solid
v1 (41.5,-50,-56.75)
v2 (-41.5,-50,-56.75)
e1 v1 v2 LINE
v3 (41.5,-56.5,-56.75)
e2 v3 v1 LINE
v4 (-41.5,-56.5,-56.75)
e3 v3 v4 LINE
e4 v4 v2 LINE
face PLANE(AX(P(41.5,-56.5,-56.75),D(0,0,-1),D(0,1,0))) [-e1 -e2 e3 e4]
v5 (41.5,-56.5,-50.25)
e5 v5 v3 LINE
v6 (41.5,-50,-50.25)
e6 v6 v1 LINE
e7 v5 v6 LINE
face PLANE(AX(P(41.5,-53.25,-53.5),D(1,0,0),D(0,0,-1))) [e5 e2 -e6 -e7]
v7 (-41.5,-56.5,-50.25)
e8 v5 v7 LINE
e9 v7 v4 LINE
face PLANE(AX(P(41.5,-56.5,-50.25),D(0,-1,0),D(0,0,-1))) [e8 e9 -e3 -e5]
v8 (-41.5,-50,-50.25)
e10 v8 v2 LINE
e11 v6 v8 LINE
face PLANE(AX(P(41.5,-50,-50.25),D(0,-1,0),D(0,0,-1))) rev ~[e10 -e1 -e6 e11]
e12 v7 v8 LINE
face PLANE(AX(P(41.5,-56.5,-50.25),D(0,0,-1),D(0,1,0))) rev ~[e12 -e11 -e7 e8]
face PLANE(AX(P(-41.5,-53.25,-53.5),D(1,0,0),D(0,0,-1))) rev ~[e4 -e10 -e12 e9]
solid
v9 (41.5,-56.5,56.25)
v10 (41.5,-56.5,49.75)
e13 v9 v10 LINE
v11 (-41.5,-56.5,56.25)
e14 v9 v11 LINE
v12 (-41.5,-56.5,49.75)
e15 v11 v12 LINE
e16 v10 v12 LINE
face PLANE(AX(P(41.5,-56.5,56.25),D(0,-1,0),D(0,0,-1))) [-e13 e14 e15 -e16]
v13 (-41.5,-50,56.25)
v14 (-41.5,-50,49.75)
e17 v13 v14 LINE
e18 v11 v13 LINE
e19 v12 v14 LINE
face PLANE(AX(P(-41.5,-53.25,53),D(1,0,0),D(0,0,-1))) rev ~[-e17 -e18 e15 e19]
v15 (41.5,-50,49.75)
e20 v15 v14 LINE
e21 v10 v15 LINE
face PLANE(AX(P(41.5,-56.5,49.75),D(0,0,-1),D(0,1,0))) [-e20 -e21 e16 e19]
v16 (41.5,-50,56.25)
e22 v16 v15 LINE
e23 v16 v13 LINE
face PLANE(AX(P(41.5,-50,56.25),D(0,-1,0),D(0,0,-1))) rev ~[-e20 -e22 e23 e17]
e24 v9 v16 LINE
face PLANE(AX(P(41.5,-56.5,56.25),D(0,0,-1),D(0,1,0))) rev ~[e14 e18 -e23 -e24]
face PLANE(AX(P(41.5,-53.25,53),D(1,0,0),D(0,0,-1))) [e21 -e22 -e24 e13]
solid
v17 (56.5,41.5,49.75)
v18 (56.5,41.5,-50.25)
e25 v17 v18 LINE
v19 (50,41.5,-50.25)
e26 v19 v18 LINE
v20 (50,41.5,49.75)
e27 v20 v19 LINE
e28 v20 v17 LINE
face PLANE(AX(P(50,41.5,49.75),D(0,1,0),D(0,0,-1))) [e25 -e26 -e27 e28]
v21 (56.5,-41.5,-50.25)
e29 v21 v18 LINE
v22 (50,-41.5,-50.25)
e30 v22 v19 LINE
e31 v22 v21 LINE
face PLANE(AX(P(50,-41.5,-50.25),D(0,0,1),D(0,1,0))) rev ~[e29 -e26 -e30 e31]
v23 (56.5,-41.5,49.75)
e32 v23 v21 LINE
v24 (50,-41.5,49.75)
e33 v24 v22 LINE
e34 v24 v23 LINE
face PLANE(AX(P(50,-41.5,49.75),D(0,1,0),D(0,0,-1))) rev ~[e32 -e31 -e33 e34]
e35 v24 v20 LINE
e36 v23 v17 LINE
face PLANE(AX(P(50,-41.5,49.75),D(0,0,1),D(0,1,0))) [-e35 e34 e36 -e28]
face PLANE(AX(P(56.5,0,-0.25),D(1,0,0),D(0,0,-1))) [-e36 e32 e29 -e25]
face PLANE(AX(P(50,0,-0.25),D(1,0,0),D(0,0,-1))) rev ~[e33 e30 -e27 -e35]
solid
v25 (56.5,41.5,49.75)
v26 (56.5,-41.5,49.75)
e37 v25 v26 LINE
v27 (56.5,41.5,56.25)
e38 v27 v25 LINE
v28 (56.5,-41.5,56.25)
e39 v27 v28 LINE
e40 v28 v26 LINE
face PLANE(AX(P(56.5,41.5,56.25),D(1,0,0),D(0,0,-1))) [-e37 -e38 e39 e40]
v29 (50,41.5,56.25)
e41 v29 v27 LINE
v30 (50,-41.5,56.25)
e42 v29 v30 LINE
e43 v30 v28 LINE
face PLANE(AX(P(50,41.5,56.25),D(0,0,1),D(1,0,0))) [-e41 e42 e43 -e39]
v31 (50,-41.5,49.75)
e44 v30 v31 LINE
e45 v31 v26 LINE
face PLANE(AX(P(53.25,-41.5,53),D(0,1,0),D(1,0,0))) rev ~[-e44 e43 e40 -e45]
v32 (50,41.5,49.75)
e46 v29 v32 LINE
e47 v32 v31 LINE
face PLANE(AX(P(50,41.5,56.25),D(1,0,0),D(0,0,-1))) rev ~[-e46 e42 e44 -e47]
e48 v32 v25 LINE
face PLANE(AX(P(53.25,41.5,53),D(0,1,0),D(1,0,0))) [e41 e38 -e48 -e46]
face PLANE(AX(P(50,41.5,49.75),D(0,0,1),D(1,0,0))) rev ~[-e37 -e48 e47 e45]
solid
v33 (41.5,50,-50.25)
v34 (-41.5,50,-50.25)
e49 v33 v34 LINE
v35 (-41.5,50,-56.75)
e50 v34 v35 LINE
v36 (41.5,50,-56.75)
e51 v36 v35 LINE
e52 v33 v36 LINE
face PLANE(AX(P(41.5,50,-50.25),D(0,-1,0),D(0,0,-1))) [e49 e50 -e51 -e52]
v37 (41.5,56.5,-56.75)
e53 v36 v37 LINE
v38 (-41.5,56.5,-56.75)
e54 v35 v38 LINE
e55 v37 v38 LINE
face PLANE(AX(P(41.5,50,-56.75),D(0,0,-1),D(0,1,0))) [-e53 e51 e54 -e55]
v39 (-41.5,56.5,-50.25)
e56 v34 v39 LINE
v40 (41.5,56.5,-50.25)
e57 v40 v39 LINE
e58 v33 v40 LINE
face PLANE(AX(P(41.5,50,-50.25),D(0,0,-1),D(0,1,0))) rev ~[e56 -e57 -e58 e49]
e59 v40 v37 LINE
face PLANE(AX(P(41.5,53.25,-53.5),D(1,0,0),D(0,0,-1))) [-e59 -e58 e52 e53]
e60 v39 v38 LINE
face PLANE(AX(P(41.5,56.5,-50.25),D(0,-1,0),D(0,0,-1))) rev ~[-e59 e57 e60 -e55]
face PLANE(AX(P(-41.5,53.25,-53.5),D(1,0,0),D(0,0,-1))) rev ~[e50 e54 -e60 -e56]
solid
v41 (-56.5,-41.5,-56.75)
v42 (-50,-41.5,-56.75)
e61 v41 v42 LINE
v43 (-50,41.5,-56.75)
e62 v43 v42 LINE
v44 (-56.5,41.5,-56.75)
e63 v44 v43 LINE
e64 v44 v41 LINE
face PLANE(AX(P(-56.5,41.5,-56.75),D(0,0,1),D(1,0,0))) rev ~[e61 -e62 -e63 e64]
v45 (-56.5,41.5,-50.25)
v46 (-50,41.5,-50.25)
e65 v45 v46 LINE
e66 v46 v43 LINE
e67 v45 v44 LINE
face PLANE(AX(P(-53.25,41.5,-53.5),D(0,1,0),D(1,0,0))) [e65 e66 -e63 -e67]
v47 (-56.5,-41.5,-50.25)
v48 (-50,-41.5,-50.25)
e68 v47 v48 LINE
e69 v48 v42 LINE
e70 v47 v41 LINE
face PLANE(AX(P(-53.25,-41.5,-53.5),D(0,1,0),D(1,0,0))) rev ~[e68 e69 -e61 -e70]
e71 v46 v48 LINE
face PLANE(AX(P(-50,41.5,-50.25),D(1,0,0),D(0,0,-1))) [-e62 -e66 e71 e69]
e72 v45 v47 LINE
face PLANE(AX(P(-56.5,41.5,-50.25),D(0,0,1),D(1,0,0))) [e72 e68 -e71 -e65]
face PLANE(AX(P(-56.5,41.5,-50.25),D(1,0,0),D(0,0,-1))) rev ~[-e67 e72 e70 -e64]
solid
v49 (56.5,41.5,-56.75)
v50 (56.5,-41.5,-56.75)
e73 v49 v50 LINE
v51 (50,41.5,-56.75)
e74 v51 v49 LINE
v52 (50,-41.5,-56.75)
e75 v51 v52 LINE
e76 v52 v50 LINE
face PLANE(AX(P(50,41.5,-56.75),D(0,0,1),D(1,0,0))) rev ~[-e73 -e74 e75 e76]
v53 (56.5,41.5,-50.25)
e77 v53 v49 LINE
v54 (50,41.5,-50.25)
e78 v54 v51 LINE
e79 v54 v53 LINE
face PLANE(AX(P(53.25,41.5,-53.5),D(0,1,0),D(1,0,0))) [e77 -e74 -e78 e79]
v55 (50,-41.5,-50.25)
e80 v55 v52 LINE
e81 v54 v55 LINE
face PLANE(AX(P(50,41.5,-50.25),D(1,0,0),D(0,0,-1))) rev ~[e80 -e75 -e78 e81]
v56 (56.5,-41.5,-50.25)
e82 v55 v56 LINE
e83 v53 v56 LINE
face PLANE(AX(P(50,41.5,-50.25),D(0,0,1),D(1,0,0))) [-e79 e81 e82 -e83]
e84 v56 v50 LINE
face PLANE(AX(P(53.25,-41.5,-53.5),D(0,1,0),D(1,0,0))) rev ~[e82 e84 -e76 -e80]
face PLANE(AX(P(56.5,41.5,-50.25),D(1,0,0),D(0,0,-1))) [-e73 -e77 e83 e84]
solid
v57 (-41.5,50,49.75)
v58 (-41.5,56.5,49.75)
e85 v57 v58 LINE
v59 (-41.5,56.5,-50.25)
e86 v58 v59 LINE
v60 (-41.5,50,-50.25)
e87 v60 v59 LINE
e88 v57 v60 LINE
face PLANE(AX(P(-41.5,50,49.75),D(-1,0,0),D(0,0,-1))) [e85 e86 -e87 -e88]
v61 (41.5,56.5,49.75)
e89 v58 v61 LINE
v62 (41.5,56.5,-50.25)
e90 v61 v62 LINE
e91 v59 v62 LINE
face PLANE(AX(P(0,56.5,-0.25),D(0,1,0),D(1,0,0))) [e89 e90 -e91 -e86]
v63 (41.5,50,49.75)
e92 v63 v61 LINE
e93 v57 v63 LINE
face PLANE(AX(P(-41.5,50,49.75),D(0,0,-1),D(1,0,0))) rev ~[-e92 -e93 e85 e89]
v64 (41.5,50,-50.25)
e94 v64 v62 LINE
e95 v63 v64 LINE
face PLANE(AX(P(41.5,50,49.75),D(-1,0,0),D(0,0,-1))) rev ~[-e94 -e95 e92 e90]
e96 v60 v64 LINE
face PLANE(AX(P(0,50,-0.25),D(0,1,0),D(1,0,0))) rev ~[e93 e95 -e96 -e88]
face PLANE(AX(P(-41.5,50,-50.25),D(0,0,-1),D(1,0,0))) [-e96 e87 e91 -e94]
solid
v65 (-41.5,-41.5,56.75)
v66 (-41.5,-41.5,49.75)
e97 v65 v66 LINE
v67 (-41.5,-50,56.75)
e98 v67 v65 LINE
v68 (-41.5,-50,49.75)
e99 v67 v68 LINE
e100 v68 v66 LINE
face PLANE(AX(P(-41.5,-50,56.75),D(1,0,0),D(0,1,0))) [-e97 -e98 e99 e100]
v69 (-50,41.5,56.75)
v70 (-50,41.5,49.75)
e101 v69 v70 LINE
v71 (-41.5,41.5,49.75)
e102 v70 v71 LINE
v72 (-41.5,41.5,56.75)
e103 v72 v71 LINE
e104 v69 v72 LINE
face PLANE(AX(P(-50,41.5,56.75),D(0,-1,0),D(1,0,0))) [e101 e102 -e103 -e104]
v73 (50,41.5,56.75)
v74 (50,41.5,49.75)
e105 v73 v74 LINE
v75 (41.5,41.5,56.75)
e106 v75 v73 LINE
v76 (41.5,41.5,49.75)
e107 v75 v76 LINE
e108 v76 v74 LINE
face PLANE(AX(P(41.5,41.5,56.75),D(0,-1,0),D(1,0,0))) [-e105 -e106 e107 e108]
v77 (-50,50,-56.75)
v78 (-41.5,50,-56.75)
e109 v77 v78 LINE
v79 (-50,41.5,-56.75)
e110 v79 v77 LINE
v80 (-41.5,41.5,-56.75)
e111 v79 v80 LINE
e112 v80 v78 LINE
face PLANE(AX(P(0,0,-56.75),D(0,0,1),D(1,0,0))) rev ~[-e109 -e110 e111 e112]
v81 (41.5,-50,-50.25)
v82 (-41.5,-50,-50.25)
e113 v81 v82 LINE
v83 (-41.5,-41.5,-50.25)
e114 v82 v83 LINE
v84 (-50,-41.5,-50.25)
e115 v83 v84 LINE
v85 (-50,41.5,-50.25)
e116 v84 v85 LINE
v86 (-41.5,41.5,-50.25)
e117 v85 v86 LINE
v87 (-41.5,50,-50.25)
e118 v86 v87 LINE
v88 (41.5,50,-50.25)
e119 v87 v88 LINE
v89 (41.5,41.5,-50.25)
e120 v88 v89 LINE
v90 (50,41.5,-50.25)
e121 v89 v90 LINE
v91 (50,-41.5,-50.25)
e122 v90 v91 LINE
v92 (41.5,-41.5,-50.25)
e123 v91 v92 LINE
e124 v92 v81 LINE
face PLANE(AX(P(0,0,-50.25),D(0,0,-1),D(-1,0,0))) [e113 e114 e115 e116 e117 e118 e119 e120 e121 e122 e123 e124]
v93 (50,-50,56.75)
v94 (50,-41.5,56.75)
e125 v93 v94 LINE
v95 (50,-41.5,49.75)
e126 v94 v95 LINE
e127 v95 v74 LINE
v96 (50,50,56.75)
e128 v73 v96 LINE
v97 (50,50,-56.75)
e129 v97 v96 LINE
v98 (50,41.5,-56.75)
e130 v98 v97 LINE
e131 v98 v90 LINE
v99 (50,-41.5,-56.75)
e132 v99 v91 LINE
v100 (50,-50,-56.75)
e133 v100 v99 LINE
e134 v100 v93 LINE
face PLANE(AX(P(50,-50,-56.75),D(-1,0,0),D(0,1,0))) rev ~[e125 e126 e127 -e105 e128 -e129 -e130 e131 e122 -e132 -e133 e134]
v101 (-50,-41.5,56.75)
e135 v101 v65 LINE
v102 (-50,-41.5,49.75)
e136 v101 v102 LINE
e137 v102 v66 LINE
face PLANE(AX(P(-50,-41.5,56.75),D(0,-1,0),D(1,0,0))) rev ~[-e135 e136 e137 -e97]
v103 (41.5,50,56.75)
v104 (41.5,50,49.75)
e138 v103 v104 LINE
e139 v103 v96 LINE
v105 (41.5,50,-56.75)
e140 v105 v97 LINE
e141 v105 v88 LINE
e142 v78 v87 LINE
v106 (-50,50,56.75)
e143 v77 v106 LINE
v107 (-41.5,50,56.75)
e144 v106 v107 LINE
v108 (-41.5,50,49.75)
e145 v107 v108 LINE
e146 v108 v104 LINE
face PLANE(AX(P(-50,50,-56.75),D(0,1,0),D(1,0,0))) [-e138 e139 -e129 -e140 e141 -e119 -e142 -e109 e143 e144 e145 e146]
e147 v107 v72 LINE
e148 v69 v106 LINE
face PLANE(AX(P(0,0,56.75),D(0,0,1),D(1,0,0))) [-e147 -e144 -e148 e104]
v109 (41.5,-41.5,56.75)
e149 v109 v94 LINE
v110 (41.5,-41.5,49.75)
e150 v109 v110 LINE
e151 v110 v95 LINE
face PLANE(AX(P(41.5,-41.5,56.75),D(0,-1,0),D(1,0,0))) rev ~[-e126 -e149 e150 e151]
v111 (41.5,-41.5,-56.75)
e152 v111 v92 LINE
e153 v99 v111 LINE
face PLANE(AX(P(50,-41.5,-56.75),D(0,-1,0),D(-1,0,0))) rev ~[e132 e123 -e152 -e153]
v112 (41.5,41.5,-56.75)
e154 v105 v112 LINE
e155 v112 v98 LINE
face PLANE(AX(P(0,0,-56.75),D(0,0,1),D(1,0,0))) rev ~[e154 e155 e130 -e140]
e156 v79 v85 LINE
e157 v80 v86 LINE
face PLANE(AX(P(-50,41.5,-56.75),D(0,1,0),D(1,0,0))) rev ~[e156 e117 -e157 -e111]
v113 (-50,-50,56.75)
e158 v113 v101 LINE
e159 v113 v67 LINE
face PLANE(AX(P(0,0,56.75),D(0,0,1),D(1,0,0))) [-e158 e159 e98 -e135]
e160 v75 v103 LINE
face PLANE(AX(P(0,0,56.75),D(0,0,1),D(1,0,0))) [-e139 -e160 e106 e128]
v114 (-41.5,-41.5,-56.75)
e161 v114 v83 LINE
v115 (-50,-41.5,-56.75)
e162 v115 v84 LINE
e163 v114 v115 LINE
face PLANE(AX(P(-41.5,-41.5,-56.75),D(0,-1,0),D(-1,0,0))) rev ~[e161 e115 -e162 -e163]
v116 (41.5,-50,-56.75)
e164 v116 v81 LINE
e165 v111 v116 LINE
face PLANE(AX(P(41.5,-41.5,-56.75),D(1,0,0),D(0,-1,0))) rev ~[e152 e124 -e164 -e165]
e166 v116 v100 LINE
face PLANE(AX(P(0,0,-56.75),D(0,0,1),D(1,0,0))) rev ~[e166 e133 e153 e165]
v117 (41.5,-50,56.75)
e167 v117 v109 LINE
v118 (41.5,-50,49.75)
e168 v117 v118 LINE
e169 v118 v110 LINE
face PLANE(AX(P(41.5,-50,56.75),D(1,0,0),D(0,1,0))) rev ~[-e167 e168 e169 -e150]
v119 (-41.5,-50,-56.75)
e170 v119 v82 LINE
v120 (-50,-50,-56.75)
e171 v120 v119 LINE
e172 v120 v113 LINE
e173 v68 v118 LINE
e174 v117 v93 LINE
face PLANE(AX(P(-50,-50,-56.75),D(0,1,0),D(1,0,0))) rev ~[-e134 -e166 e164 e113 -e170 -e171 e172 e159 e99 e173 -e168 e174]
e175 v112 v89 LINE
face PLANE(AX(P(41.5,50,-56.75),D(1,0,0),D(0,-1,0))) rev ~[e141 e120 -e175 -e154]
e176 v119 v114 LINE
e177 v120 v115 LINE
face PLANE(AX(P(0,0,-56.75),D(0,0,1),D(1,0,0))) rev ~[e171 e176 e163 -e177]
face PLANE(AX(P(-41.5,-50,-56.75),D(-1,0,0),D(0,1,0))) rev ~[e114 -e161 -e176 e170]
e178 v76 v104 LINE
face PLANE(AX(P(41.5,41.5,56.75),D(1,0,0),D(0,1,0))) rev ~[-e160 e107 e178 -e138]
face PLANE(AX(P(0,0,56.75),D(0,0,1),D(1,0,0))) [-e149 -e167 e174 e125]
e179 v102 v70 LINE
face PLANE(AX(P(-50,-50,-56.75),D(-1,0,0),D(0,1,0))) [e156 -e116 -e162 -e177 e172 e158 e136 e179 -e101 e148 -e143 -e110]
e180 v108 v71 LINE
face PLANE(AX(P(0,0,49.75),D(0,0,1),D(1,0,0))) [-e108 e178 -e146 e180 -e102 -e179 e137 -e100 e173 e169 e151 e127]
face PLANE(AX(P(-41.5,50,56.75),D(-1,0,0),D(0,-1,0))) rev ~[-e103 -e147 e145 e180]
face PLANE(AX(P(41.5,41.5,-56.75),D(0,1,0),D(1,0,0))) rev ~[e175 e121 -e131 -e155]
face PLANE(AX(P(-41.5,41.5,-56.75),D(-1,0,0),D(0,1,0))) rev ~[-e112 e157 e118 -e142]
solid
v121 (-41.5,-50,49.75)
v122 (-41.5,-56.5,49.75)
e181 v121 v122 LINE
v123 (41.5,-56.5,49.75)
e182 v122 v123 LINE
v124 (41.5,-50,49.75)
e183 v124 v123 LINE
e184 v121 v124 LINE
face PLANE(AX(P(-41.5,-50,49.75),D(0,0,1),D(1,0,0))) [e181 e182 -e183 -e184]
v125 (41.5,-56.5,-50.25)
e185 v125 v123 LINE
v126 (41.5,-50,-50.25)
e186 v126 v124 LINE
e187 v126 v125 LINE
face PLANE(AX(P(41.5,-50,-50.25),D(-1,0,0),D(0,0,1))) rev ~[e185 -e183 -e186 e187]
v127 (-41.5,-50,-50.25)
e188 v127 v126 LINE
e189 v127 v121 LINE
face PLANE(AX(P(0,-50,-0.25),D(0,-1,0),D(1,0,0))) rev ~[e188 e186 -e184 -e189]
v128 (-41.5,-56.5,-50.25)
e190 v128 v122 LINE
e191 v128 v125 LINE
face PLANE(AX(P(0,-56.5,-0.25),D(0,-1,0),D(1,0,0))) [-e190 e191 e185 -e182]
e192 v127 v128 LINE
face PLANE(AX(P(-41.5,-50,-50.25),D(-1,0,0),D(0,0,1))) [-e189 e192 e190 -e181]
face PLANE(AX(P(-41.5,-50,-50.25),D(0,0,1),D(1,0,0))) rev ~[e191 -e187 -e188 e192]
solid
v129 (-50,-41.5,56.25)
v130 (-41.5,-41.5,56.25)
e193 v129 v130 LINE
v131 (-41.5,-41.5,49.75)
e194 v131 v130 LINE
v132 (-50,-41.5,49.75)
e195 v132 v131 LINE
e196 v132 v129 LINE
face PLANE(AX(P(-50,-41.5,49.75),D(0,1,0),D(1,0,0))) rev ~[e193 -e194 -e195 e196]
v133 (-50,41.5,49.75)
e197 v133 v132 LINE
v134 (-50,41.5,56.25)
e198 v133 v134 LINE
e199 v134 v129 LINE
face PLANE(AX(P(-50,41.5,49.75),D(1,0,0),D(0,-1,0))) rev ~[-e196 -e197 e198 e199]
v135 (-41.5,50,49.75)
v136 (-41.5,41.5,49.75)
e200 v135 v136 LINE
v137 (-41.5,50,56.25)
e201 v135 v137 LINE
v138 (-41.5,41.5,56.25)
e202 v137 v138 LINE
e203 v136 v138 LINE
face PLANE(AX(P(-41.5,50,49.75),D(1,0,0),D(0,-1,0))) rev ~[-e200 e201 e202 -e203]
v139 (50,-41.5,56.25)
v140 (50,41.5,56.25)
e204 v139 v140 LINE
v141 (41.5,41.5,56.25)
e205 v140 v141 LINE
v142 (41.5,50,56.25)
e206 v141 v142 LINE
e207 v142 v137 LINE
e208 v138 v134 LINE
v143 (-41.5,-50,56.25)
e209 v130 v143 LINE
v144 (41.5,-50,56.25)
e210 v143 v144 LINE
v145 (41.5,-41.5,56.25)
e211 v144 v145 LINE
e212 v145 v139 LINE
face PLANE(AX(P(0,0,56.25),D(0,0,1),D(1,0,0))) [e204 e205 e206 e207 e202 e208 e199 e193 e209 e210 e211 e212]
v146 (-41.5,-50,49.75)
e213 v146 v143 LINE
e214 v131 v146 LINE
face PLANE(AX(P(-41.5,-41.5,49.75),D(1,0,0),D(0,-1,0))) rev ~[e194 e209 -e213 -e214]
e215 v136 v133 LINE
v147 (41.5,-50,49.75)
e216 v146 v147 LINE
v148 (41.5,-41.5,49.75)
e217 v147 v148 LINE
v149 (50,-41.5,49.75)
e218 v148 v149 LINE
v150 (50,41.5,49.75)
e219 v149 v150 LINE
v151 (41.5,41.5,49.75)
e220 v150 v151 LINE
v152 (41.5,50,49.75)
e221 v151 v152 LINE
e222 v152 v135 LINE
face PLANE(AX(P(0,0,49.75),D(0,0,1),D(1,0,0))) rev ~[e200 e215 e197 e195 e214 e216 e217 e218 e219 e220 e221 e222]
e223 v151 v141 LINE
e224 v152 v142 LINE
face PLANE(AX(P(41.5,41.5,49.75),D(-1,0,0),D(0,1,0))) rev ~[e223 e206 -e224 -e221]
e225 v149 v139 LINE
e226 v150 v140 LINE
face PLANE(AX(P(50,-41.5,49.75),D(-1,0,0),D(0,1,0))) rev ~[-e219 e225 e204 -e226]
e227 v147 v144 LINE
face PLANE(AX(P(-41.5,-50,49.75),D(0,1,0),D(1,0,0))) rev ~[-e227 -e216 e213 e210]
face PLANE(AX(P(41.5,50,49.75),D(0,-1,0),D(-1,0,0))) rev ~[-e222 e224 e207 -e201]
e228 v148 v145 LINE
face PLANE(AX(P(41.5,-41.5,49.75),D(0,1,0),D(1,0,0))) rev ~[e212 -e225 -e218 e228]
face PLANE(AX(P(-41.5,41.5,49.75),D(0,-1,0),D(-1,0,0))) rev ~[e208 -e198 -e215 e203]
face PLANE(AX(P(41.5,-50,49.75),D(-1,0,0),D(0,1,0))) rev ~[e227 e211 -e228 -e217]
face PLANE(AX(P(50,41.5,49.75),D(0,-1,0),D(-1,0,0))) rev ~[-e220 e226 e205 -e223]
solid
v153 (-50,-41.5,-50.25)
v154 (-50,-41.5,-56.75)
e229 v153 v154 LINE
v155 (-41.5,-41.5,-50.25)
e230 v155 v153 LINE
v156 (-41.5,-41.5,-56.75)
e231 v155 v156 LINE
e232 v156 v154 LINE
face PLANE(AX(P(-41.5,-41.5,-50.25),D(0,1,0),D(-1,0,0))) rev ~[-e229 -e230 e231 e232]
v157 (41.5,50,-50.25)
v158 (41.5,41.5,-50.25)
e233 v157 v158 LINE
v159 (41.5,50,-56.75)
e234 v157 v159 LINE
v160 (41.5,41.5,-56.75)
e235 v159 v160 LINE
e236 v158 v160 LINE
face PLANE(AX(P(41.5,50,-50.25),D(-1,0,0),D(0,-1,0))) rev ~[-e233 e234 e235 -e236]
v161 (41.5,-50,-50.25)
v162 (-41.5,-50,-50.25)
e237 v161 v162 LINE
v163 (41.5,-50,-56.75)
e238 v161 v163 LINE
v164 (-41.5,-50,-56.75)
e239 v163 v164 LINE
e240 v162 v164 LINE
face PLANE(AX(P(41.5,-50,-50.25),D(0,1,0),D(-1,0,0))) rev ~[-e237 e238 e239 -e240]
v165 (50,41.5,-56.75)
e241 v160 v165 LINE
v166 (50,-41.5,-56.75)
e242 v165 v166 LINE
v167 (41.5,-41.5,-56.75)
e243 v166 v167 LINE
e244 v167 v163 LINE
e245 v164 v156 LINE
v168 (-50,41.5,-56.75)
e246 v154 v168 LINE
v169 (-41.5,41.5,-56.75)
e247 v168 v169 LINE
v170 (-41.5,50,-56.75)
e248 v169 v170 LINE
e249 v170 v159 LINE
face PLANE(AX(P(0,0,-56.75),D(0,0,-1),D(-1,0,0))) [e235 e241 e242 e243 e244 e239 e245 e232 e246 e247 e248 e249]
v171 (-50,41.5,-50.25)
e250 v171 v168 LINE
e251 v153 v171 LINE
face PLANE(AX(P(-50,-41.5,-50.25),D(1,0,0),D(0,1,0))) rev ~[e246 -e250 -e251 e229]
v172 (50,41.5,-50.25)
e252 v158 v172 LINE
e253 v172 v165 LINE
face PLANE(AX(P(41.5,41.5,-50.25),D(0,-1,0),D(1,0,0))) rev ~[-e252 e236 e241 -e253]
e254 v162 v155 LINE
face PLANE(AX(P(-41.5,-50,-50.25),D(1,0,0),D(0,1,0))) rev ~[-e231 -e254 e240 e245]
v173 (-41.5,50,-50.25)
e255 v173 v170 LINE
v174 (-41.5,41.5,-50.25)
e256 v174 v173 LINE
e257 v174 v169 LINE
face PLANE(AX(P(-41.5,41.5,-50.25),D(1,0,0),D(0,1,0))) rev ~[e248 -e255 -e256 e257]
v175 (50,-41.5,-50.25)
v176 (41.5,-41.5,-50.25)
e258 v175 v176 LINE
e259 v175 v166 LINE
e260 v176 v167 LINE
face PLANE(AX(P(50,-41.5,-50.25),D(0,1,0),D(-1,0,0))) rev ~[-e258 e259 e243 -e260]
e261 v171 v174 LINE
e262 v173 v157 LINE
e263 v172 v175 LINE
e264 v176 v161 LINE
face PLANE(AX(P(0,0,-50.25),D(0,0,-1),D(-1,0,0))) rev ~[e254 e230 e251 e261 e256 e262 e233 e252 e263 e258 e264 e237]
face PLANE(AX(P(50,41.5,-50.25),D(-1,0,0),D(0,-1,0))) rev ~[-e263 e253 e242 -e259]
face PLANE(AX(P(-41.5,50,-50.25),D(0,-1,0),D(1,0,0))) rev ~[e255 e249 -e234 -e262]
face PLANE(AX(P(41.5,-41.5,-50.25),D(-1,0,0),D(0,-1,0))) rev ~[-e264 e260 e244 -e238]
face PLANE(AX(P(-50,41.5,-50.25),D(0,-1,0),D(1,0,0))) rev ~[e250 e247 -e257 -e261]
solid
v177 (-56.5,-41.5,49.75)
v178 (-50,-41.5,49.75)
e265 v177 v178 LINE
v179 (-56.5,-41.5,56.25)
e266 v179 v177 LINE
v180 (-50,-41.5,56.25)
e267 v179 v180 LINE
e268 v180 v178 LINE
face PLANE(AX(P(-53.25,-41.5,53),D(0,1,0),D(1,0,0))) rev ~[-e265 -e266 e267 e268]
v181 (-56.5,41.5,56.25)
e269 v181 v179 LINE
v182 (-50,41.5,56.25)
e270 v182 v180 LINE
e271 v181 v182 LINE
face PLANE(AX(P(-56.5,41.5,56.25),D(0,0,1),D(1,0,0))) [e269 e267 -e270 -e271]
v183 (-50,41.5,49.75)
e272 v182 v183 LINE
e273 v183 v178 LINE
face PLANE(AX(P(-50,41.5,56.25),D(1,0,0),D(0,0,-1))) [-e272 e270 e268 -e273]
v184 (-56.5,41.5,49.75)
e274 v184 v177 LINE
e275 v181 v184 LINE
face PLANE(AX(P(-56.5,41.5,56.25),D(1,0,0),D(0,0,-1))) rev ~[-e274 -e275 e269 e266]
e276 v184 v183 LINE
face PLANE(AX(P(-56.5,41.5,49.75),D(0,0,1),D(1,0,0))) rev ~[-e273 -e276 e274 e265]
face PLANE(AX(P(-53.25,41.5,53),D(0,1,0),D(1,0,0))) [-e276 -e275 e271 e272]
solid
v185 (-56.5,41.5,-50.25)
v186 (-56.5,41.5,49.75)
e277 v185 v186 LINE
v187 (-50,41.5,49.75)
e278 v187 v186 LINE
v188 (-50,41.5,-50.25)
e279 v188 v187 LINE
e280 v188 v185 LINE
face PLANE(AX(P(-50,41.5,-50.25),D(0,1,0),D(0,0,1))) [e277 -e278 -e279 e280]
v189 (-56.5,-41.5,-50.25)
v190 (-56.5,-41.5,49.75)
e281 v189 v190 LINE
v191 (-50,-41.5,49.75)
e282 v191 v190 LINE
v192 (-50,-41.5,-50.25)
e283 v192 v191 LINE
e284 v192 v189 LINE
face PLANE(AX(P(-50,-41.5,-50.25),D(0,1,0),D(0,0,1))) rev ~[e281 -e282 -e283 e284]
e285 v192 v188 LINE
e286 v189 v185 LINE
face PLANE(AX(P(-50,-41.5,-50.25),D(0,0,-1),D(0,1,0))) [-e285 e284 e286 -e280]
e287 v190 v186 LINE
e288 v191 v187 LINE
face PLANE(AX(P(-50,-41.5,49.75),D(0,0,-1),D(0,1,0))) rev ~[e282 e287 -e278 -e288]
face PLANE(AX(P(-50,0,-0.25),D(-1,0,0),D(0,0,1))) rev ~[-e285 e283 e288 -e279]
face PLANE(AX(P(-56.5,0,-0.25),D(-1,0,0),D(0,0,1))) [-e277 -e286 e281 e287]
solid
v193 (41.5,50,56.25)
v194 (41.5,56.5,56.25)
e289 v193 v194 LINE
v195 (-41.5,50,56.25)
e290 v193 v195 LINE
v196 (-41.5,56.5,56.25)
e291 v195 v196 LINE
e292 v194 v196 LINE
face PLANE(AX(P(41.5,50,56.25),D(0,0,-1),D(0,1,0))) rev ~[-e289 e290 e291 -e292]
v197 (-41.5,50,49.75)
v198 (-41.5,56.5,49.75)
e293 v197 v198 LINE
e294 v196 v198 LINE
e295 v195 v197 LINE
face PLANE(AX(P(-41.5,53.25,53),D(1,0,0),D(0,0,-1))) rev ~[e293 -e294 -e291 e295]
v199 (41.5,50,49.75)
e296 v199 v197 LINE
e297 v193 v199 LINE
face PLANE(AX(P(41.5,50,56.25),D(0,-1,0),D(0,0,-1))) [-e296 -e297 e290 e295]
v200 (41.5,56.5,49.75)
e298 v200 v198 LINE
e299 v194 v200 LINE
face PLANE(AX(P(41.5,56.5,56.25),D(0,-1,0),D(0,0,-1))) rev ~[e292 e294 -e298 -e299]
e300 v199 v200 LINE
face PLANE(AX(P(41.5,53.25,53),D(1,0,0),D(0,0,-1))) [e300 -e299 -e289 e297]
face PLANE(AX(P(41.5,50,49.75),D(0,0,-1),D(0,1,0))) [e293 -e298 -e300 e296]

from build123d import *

# Parameters (mm, degrees)
BOSS_EXTRUDE1_DEPTH      = 56.75
BOSS_EXTRUDE1_DEPTH_BACK = 56.75
SKETCH1_W                = 100
SKETCH1_H                = 100
SKETCH3_W                = 83
SKETCH3_H                = 83
SKETCH3_H_2              = 8.5
SKETCH3_W_2              = 8.5
CUT_EXTRUDE1_DEPTH       = 7
CUT_EXTRUDE2_DEPTH       = 6.5
SKETCH5_W                = 100
SKETCH5_H                = 83
BOSS_EXTRUDE2_DEPTH      = 6.5
SKETCH6_W                = 83
SKETCH6_H                = 100
BOSS_EXTRUDE3_DEPTH      = 6.5
SKETCH7_W                = 100
SKETCH7_H                = 83
BOSS_EXTRUDE4_DEPTH      = 6.5
BOSS_EXTRUDE5_DEPTH      = 6.5
BOSS_EXTRUDE6_DEPTH      = 6.5
SKETCH11_W               = 83
SKETCH11_H               = 100
BOSS_EXTRUDE7_DEPTH      = 6.5
SKETCH15_W               = 6.5
SKETCH15_H               = 6.5
BOSS_EXTRUDE10_DEPTH     = 83
BOSS_EXTRUDE10_2_DEPTH   = 83
BOSS_EXTRUDE10_3_DEPTH   = 83
BOSS_EXTRUDE10_4_DEPTH   = 83
SKETCH16_W               = 6.5
SKETCH16_H               = 6.5
BOSS_EXTRUDE11_DEPTH     = 83
BOSS_EXTRUDE11_2_DEPTH   = 83
BOSS_EXTRUDE11_3_DEPTH   = 83
BOSS_EXTRUDE11_4_DEPTH   = 83


with BuildPart() as part:
    # Sketch1 → Boss-Extrude1 (new, two sides: drawn at the far end of the back side and taken through both)
    with BuildSketch(Plane.XY.offset(-BOSS_EXTRUDE1_DEPTH_BACK)):
        Rectangle(SKETCH1_W, SKETCH1_H)
    extrude(amount=BOSS_EXTRUDE1_DEPTH + BOSS_EXTRUDE1_DEPTH_BACK)

    # Sketch3 → Cut-Extrude1 (cut)
    with BuildSketch(Plane.XY.offset(56.75)):
        Rectangle(SKETCH3_W, SKETCH3_H)
        with Locations((0, 45.75)):
            Rectangle(SKETCH3_W, SKETCH3_H_2)
        with Locations((-45.75, 0)):
            Rectangle(SKETCH3_W_2, SKETCH3_H)
        with Locations((0, -45.75)):
            Rectangle(SKETCH3_W, SKETCH3_H_2)
        with Locations((45.75, 0)):
            Rectangle(SKETCH3_W_2, SKETCH3_H)
    extrude(amount=-CUT_EXTRUDE1_DEPTH, mode=Mode.SUBTRACT)

    # Sketch4 → Cut-Extrude2 (cut)
    with BuildSketch(Plane(origin=(0, 0, -56.75), x_dir=(-1, 0, 0), z_dir=(0, 0, -1))):
        Polygon((-41.5, -41.5), (-41.5, -50), (41.5, -50), (41.5, -41.5), (50, -41.5), (50, 41.5), (41.5, 41.5), (41.5, 50), (-41.5, 50), (-41.5, 41.5), (-50, 41.5), (-50, -41.5), align=None)
    extrude(amount=-CUT_EXTRUDE2_DEPTH, mode=Mode.SUBTRACT)


with BuildPart() as body_2:
    # Sketch5 → Boss-Extrude2 (new body)
    with BuildSketch(Plane.ZY.offset(50)):
        with Locations((-0.25, 0)):
            Rectangle(SKETCH5_W, SKETCH5_H)
    extrude(amount=BOSS_EXTRUDE2_DEPTH)


with BuildPart() as body_3:
    # Sketch6 → Boss-Extrude3 (new body)
    with BuildSketch(Plane(origin=(0, 50, 0), x_dir=(1, 0, 0), z_dir=(0, 1, 0))):
        with Locations((0, 0.25)):
            Rectangle(SKETCH6_W, SKETCH6_H)
    extrude(amount=BOSS_EXTRUDE3_DEPTH)


with BuildPart() as body_4:
    # Sketch7 → Boss-Extrude4 (new body)
    with BuildSketch(Plane(origin=(50, 0, 0), x_dir=(0, 0, -1), z_dir=(1, 0, 0))):
        with Locations((0.25, 0)):
            Rectangle(SKETCH7_W, SKETCH7_H)
    extrude(amount=BOSS_EXTRUDE4_DEPTH)


with BuildPart() as body_5:
    # Sketch9 → Boss-Extrude5 (new body)
    with BuildSketch(Plane.XY.offset(49.75)):
        Polygon((41.5, -50), (41.5, -41.5), (50, -41.5), (50, 41.5), (41.5, 41.5), (41.5, 50), (-41.5, 50), (-41.5, 41.5), (-50, 41.5), (-50, -41.5), (-41.5, -41.5), (-41.5, -50), align=None)
    extrude(amount=BOSS_EXTRUDE5_DEPTH)


with BuildPart() as body_6:
    # Sketch10 → Boss-Extrude6 (new body)
    with BuildSketch(Plane(origin=(0, 0, -50.25), x_dir=(-1, 0, 0), z_dir=(0, 0, -1))):
        Polygon((-41.5, -50), (41.5, -50), (41.5, -41.5), (50, -41.5), (50, 41.5), (41.5, 41.5), (41.5, 50), (-41.5, 50), (-41.5, 41.5), (-50, 41.5), (-50, -41.5), (-41.5, -41.5), align=None)
    extrude(amount=BOSS_EXTRUDE6_DEPTH)


with BuildPart() as body_7:
    # Sketch11 → Boss-Extrude7 (new body)
    with BuildSketch(Plane.XZ.offset(50)):
        with Locations((0, -0.25)):
            Rectangle(SKETCH11_W, SKETCH11_H)
    extrude(amount=BOSS_EXTRUDE7_DEPTH)


with BuildPart() as body_8:
    # Sketch15 → Boss-Extrude10 (new body)
    with BuildSketch(Plane(origin=(41.5, 0, 0), x_dir=(0, 0, -1), z_dir=(1, 0, 0))):
        with Locations((53.5, 53.25)):
            Rectangle(SKETCH15_W, SKETCH15_H)
    extrude(amount=-BOSS_EXTRUDE10_DEPTH)


with BuildPart() as body_9:
    # Sketch15 → Boss-Extrude10 2 (new body)
    with BuildSketch(Plane(origin=(41.5, 0, 0), x_dir=(0, 0, -1), z_dir=(1, 0, 0))):
        with Locations((53.5, -53.25)):
            Rectangle(SKETCH15_W, SKETCH15_H)
    extrude(amount=-BOSS_EXTRUDE10_2_DEPTH)


with BuildPart() as body_10:
    # Sketch15 → Boss-Extrude10 3 (new body)
    with BuildSketch(Plane(origin=(41.5, 0, 0), x_dir=(0, 0, -1), z_dir=(1, 0, 0))):
        with Locations((-53, -53.25)):
            Rectangle(SKETCH15_W, SKETCH15_H)
    extrude(amount=-BOSS_EXTRUDE10_3_DEPTH)


with BuildPart() as body_11:
    # Sketch15 → Boss-Extrude10 4 (new body)
    with BuildSketch(Plane(origin=(41.5, 0, 0), x_dir=(0, 0, -1), z_dir=(1, 0, 0))):
        with Locations((-53, 53.25)):
            Rectangle(SKETCH15_W, SKETCH15_H)
    extrude(amount=-BOSS_EXTRUDE10_4_DEPTH)


with BuildPart() as body_12:
    # Sketch16 → Boss-Extrude11 (new body)
    with BuildSketch(Plane(origin=(0, 41.5, 0), x_dir=(1, 0, 0), z_dir=(0, 1, 0))):
        with Locations((53.25, 53.5)):
            Rectangle(SKETCH16_W, SKETCH16_H)
    extrude(amount=-BOSS_EXTRUDE11_DEPTH)


with BuildPart() as body_13:
    # Sketch16 → Boss-Extrude11 2 (new body)
    with BuildSketch(Plane(origin=(0, 41.5, 0), x_dir=(1, 0, 0), z_dir=(0, 1, 0))):
        with Locations((-53.25, 53.5)):
            Rectangle(SKETCH16_W, SKETCH16_H)
    extrude(amount=-BOSS_EXTRUDE11_2_DEPTH)


with BuildPart() as body_14:
    # Sketch16 → Boss-Extrude11 3 (new body)
    with BuildSketch(Plane(origin=(0, 41.5, 0), x_dir=(1, 0, 0), z_dir=(0, 1, 0))):
        with Locations((-53.25, -53)):
            Rectangle(SKETCH16_W, SKETCH16_H)
    extrude(amount=-BOSS_EXTRUDE11_3_DEPTH)


with BuildPart() as body_15:
    # Sketch16 → Boss-Extrude11 4 (new body)
    with BuildSketch(Plane(origin=(0, 41.5, 0), x_dir=(1, 0, 0), z_dir=(0, 1, 0))):
        with Locations((53.25, -53)):
            Rectangle(SKETCH16_W, SKETCH16_H)
    extrude(amount=-BOSS_EXTRUDE11_4_DEPTH)


solid = Compound([part.part, body_2.part, body_3.part, body_4.part, body_5.part, body_6.part, body_7.part, body_8.part, body_9.part, body_10.part, body_11.part, body_12.part, body_13.part, body_14.part, body_15.part])
